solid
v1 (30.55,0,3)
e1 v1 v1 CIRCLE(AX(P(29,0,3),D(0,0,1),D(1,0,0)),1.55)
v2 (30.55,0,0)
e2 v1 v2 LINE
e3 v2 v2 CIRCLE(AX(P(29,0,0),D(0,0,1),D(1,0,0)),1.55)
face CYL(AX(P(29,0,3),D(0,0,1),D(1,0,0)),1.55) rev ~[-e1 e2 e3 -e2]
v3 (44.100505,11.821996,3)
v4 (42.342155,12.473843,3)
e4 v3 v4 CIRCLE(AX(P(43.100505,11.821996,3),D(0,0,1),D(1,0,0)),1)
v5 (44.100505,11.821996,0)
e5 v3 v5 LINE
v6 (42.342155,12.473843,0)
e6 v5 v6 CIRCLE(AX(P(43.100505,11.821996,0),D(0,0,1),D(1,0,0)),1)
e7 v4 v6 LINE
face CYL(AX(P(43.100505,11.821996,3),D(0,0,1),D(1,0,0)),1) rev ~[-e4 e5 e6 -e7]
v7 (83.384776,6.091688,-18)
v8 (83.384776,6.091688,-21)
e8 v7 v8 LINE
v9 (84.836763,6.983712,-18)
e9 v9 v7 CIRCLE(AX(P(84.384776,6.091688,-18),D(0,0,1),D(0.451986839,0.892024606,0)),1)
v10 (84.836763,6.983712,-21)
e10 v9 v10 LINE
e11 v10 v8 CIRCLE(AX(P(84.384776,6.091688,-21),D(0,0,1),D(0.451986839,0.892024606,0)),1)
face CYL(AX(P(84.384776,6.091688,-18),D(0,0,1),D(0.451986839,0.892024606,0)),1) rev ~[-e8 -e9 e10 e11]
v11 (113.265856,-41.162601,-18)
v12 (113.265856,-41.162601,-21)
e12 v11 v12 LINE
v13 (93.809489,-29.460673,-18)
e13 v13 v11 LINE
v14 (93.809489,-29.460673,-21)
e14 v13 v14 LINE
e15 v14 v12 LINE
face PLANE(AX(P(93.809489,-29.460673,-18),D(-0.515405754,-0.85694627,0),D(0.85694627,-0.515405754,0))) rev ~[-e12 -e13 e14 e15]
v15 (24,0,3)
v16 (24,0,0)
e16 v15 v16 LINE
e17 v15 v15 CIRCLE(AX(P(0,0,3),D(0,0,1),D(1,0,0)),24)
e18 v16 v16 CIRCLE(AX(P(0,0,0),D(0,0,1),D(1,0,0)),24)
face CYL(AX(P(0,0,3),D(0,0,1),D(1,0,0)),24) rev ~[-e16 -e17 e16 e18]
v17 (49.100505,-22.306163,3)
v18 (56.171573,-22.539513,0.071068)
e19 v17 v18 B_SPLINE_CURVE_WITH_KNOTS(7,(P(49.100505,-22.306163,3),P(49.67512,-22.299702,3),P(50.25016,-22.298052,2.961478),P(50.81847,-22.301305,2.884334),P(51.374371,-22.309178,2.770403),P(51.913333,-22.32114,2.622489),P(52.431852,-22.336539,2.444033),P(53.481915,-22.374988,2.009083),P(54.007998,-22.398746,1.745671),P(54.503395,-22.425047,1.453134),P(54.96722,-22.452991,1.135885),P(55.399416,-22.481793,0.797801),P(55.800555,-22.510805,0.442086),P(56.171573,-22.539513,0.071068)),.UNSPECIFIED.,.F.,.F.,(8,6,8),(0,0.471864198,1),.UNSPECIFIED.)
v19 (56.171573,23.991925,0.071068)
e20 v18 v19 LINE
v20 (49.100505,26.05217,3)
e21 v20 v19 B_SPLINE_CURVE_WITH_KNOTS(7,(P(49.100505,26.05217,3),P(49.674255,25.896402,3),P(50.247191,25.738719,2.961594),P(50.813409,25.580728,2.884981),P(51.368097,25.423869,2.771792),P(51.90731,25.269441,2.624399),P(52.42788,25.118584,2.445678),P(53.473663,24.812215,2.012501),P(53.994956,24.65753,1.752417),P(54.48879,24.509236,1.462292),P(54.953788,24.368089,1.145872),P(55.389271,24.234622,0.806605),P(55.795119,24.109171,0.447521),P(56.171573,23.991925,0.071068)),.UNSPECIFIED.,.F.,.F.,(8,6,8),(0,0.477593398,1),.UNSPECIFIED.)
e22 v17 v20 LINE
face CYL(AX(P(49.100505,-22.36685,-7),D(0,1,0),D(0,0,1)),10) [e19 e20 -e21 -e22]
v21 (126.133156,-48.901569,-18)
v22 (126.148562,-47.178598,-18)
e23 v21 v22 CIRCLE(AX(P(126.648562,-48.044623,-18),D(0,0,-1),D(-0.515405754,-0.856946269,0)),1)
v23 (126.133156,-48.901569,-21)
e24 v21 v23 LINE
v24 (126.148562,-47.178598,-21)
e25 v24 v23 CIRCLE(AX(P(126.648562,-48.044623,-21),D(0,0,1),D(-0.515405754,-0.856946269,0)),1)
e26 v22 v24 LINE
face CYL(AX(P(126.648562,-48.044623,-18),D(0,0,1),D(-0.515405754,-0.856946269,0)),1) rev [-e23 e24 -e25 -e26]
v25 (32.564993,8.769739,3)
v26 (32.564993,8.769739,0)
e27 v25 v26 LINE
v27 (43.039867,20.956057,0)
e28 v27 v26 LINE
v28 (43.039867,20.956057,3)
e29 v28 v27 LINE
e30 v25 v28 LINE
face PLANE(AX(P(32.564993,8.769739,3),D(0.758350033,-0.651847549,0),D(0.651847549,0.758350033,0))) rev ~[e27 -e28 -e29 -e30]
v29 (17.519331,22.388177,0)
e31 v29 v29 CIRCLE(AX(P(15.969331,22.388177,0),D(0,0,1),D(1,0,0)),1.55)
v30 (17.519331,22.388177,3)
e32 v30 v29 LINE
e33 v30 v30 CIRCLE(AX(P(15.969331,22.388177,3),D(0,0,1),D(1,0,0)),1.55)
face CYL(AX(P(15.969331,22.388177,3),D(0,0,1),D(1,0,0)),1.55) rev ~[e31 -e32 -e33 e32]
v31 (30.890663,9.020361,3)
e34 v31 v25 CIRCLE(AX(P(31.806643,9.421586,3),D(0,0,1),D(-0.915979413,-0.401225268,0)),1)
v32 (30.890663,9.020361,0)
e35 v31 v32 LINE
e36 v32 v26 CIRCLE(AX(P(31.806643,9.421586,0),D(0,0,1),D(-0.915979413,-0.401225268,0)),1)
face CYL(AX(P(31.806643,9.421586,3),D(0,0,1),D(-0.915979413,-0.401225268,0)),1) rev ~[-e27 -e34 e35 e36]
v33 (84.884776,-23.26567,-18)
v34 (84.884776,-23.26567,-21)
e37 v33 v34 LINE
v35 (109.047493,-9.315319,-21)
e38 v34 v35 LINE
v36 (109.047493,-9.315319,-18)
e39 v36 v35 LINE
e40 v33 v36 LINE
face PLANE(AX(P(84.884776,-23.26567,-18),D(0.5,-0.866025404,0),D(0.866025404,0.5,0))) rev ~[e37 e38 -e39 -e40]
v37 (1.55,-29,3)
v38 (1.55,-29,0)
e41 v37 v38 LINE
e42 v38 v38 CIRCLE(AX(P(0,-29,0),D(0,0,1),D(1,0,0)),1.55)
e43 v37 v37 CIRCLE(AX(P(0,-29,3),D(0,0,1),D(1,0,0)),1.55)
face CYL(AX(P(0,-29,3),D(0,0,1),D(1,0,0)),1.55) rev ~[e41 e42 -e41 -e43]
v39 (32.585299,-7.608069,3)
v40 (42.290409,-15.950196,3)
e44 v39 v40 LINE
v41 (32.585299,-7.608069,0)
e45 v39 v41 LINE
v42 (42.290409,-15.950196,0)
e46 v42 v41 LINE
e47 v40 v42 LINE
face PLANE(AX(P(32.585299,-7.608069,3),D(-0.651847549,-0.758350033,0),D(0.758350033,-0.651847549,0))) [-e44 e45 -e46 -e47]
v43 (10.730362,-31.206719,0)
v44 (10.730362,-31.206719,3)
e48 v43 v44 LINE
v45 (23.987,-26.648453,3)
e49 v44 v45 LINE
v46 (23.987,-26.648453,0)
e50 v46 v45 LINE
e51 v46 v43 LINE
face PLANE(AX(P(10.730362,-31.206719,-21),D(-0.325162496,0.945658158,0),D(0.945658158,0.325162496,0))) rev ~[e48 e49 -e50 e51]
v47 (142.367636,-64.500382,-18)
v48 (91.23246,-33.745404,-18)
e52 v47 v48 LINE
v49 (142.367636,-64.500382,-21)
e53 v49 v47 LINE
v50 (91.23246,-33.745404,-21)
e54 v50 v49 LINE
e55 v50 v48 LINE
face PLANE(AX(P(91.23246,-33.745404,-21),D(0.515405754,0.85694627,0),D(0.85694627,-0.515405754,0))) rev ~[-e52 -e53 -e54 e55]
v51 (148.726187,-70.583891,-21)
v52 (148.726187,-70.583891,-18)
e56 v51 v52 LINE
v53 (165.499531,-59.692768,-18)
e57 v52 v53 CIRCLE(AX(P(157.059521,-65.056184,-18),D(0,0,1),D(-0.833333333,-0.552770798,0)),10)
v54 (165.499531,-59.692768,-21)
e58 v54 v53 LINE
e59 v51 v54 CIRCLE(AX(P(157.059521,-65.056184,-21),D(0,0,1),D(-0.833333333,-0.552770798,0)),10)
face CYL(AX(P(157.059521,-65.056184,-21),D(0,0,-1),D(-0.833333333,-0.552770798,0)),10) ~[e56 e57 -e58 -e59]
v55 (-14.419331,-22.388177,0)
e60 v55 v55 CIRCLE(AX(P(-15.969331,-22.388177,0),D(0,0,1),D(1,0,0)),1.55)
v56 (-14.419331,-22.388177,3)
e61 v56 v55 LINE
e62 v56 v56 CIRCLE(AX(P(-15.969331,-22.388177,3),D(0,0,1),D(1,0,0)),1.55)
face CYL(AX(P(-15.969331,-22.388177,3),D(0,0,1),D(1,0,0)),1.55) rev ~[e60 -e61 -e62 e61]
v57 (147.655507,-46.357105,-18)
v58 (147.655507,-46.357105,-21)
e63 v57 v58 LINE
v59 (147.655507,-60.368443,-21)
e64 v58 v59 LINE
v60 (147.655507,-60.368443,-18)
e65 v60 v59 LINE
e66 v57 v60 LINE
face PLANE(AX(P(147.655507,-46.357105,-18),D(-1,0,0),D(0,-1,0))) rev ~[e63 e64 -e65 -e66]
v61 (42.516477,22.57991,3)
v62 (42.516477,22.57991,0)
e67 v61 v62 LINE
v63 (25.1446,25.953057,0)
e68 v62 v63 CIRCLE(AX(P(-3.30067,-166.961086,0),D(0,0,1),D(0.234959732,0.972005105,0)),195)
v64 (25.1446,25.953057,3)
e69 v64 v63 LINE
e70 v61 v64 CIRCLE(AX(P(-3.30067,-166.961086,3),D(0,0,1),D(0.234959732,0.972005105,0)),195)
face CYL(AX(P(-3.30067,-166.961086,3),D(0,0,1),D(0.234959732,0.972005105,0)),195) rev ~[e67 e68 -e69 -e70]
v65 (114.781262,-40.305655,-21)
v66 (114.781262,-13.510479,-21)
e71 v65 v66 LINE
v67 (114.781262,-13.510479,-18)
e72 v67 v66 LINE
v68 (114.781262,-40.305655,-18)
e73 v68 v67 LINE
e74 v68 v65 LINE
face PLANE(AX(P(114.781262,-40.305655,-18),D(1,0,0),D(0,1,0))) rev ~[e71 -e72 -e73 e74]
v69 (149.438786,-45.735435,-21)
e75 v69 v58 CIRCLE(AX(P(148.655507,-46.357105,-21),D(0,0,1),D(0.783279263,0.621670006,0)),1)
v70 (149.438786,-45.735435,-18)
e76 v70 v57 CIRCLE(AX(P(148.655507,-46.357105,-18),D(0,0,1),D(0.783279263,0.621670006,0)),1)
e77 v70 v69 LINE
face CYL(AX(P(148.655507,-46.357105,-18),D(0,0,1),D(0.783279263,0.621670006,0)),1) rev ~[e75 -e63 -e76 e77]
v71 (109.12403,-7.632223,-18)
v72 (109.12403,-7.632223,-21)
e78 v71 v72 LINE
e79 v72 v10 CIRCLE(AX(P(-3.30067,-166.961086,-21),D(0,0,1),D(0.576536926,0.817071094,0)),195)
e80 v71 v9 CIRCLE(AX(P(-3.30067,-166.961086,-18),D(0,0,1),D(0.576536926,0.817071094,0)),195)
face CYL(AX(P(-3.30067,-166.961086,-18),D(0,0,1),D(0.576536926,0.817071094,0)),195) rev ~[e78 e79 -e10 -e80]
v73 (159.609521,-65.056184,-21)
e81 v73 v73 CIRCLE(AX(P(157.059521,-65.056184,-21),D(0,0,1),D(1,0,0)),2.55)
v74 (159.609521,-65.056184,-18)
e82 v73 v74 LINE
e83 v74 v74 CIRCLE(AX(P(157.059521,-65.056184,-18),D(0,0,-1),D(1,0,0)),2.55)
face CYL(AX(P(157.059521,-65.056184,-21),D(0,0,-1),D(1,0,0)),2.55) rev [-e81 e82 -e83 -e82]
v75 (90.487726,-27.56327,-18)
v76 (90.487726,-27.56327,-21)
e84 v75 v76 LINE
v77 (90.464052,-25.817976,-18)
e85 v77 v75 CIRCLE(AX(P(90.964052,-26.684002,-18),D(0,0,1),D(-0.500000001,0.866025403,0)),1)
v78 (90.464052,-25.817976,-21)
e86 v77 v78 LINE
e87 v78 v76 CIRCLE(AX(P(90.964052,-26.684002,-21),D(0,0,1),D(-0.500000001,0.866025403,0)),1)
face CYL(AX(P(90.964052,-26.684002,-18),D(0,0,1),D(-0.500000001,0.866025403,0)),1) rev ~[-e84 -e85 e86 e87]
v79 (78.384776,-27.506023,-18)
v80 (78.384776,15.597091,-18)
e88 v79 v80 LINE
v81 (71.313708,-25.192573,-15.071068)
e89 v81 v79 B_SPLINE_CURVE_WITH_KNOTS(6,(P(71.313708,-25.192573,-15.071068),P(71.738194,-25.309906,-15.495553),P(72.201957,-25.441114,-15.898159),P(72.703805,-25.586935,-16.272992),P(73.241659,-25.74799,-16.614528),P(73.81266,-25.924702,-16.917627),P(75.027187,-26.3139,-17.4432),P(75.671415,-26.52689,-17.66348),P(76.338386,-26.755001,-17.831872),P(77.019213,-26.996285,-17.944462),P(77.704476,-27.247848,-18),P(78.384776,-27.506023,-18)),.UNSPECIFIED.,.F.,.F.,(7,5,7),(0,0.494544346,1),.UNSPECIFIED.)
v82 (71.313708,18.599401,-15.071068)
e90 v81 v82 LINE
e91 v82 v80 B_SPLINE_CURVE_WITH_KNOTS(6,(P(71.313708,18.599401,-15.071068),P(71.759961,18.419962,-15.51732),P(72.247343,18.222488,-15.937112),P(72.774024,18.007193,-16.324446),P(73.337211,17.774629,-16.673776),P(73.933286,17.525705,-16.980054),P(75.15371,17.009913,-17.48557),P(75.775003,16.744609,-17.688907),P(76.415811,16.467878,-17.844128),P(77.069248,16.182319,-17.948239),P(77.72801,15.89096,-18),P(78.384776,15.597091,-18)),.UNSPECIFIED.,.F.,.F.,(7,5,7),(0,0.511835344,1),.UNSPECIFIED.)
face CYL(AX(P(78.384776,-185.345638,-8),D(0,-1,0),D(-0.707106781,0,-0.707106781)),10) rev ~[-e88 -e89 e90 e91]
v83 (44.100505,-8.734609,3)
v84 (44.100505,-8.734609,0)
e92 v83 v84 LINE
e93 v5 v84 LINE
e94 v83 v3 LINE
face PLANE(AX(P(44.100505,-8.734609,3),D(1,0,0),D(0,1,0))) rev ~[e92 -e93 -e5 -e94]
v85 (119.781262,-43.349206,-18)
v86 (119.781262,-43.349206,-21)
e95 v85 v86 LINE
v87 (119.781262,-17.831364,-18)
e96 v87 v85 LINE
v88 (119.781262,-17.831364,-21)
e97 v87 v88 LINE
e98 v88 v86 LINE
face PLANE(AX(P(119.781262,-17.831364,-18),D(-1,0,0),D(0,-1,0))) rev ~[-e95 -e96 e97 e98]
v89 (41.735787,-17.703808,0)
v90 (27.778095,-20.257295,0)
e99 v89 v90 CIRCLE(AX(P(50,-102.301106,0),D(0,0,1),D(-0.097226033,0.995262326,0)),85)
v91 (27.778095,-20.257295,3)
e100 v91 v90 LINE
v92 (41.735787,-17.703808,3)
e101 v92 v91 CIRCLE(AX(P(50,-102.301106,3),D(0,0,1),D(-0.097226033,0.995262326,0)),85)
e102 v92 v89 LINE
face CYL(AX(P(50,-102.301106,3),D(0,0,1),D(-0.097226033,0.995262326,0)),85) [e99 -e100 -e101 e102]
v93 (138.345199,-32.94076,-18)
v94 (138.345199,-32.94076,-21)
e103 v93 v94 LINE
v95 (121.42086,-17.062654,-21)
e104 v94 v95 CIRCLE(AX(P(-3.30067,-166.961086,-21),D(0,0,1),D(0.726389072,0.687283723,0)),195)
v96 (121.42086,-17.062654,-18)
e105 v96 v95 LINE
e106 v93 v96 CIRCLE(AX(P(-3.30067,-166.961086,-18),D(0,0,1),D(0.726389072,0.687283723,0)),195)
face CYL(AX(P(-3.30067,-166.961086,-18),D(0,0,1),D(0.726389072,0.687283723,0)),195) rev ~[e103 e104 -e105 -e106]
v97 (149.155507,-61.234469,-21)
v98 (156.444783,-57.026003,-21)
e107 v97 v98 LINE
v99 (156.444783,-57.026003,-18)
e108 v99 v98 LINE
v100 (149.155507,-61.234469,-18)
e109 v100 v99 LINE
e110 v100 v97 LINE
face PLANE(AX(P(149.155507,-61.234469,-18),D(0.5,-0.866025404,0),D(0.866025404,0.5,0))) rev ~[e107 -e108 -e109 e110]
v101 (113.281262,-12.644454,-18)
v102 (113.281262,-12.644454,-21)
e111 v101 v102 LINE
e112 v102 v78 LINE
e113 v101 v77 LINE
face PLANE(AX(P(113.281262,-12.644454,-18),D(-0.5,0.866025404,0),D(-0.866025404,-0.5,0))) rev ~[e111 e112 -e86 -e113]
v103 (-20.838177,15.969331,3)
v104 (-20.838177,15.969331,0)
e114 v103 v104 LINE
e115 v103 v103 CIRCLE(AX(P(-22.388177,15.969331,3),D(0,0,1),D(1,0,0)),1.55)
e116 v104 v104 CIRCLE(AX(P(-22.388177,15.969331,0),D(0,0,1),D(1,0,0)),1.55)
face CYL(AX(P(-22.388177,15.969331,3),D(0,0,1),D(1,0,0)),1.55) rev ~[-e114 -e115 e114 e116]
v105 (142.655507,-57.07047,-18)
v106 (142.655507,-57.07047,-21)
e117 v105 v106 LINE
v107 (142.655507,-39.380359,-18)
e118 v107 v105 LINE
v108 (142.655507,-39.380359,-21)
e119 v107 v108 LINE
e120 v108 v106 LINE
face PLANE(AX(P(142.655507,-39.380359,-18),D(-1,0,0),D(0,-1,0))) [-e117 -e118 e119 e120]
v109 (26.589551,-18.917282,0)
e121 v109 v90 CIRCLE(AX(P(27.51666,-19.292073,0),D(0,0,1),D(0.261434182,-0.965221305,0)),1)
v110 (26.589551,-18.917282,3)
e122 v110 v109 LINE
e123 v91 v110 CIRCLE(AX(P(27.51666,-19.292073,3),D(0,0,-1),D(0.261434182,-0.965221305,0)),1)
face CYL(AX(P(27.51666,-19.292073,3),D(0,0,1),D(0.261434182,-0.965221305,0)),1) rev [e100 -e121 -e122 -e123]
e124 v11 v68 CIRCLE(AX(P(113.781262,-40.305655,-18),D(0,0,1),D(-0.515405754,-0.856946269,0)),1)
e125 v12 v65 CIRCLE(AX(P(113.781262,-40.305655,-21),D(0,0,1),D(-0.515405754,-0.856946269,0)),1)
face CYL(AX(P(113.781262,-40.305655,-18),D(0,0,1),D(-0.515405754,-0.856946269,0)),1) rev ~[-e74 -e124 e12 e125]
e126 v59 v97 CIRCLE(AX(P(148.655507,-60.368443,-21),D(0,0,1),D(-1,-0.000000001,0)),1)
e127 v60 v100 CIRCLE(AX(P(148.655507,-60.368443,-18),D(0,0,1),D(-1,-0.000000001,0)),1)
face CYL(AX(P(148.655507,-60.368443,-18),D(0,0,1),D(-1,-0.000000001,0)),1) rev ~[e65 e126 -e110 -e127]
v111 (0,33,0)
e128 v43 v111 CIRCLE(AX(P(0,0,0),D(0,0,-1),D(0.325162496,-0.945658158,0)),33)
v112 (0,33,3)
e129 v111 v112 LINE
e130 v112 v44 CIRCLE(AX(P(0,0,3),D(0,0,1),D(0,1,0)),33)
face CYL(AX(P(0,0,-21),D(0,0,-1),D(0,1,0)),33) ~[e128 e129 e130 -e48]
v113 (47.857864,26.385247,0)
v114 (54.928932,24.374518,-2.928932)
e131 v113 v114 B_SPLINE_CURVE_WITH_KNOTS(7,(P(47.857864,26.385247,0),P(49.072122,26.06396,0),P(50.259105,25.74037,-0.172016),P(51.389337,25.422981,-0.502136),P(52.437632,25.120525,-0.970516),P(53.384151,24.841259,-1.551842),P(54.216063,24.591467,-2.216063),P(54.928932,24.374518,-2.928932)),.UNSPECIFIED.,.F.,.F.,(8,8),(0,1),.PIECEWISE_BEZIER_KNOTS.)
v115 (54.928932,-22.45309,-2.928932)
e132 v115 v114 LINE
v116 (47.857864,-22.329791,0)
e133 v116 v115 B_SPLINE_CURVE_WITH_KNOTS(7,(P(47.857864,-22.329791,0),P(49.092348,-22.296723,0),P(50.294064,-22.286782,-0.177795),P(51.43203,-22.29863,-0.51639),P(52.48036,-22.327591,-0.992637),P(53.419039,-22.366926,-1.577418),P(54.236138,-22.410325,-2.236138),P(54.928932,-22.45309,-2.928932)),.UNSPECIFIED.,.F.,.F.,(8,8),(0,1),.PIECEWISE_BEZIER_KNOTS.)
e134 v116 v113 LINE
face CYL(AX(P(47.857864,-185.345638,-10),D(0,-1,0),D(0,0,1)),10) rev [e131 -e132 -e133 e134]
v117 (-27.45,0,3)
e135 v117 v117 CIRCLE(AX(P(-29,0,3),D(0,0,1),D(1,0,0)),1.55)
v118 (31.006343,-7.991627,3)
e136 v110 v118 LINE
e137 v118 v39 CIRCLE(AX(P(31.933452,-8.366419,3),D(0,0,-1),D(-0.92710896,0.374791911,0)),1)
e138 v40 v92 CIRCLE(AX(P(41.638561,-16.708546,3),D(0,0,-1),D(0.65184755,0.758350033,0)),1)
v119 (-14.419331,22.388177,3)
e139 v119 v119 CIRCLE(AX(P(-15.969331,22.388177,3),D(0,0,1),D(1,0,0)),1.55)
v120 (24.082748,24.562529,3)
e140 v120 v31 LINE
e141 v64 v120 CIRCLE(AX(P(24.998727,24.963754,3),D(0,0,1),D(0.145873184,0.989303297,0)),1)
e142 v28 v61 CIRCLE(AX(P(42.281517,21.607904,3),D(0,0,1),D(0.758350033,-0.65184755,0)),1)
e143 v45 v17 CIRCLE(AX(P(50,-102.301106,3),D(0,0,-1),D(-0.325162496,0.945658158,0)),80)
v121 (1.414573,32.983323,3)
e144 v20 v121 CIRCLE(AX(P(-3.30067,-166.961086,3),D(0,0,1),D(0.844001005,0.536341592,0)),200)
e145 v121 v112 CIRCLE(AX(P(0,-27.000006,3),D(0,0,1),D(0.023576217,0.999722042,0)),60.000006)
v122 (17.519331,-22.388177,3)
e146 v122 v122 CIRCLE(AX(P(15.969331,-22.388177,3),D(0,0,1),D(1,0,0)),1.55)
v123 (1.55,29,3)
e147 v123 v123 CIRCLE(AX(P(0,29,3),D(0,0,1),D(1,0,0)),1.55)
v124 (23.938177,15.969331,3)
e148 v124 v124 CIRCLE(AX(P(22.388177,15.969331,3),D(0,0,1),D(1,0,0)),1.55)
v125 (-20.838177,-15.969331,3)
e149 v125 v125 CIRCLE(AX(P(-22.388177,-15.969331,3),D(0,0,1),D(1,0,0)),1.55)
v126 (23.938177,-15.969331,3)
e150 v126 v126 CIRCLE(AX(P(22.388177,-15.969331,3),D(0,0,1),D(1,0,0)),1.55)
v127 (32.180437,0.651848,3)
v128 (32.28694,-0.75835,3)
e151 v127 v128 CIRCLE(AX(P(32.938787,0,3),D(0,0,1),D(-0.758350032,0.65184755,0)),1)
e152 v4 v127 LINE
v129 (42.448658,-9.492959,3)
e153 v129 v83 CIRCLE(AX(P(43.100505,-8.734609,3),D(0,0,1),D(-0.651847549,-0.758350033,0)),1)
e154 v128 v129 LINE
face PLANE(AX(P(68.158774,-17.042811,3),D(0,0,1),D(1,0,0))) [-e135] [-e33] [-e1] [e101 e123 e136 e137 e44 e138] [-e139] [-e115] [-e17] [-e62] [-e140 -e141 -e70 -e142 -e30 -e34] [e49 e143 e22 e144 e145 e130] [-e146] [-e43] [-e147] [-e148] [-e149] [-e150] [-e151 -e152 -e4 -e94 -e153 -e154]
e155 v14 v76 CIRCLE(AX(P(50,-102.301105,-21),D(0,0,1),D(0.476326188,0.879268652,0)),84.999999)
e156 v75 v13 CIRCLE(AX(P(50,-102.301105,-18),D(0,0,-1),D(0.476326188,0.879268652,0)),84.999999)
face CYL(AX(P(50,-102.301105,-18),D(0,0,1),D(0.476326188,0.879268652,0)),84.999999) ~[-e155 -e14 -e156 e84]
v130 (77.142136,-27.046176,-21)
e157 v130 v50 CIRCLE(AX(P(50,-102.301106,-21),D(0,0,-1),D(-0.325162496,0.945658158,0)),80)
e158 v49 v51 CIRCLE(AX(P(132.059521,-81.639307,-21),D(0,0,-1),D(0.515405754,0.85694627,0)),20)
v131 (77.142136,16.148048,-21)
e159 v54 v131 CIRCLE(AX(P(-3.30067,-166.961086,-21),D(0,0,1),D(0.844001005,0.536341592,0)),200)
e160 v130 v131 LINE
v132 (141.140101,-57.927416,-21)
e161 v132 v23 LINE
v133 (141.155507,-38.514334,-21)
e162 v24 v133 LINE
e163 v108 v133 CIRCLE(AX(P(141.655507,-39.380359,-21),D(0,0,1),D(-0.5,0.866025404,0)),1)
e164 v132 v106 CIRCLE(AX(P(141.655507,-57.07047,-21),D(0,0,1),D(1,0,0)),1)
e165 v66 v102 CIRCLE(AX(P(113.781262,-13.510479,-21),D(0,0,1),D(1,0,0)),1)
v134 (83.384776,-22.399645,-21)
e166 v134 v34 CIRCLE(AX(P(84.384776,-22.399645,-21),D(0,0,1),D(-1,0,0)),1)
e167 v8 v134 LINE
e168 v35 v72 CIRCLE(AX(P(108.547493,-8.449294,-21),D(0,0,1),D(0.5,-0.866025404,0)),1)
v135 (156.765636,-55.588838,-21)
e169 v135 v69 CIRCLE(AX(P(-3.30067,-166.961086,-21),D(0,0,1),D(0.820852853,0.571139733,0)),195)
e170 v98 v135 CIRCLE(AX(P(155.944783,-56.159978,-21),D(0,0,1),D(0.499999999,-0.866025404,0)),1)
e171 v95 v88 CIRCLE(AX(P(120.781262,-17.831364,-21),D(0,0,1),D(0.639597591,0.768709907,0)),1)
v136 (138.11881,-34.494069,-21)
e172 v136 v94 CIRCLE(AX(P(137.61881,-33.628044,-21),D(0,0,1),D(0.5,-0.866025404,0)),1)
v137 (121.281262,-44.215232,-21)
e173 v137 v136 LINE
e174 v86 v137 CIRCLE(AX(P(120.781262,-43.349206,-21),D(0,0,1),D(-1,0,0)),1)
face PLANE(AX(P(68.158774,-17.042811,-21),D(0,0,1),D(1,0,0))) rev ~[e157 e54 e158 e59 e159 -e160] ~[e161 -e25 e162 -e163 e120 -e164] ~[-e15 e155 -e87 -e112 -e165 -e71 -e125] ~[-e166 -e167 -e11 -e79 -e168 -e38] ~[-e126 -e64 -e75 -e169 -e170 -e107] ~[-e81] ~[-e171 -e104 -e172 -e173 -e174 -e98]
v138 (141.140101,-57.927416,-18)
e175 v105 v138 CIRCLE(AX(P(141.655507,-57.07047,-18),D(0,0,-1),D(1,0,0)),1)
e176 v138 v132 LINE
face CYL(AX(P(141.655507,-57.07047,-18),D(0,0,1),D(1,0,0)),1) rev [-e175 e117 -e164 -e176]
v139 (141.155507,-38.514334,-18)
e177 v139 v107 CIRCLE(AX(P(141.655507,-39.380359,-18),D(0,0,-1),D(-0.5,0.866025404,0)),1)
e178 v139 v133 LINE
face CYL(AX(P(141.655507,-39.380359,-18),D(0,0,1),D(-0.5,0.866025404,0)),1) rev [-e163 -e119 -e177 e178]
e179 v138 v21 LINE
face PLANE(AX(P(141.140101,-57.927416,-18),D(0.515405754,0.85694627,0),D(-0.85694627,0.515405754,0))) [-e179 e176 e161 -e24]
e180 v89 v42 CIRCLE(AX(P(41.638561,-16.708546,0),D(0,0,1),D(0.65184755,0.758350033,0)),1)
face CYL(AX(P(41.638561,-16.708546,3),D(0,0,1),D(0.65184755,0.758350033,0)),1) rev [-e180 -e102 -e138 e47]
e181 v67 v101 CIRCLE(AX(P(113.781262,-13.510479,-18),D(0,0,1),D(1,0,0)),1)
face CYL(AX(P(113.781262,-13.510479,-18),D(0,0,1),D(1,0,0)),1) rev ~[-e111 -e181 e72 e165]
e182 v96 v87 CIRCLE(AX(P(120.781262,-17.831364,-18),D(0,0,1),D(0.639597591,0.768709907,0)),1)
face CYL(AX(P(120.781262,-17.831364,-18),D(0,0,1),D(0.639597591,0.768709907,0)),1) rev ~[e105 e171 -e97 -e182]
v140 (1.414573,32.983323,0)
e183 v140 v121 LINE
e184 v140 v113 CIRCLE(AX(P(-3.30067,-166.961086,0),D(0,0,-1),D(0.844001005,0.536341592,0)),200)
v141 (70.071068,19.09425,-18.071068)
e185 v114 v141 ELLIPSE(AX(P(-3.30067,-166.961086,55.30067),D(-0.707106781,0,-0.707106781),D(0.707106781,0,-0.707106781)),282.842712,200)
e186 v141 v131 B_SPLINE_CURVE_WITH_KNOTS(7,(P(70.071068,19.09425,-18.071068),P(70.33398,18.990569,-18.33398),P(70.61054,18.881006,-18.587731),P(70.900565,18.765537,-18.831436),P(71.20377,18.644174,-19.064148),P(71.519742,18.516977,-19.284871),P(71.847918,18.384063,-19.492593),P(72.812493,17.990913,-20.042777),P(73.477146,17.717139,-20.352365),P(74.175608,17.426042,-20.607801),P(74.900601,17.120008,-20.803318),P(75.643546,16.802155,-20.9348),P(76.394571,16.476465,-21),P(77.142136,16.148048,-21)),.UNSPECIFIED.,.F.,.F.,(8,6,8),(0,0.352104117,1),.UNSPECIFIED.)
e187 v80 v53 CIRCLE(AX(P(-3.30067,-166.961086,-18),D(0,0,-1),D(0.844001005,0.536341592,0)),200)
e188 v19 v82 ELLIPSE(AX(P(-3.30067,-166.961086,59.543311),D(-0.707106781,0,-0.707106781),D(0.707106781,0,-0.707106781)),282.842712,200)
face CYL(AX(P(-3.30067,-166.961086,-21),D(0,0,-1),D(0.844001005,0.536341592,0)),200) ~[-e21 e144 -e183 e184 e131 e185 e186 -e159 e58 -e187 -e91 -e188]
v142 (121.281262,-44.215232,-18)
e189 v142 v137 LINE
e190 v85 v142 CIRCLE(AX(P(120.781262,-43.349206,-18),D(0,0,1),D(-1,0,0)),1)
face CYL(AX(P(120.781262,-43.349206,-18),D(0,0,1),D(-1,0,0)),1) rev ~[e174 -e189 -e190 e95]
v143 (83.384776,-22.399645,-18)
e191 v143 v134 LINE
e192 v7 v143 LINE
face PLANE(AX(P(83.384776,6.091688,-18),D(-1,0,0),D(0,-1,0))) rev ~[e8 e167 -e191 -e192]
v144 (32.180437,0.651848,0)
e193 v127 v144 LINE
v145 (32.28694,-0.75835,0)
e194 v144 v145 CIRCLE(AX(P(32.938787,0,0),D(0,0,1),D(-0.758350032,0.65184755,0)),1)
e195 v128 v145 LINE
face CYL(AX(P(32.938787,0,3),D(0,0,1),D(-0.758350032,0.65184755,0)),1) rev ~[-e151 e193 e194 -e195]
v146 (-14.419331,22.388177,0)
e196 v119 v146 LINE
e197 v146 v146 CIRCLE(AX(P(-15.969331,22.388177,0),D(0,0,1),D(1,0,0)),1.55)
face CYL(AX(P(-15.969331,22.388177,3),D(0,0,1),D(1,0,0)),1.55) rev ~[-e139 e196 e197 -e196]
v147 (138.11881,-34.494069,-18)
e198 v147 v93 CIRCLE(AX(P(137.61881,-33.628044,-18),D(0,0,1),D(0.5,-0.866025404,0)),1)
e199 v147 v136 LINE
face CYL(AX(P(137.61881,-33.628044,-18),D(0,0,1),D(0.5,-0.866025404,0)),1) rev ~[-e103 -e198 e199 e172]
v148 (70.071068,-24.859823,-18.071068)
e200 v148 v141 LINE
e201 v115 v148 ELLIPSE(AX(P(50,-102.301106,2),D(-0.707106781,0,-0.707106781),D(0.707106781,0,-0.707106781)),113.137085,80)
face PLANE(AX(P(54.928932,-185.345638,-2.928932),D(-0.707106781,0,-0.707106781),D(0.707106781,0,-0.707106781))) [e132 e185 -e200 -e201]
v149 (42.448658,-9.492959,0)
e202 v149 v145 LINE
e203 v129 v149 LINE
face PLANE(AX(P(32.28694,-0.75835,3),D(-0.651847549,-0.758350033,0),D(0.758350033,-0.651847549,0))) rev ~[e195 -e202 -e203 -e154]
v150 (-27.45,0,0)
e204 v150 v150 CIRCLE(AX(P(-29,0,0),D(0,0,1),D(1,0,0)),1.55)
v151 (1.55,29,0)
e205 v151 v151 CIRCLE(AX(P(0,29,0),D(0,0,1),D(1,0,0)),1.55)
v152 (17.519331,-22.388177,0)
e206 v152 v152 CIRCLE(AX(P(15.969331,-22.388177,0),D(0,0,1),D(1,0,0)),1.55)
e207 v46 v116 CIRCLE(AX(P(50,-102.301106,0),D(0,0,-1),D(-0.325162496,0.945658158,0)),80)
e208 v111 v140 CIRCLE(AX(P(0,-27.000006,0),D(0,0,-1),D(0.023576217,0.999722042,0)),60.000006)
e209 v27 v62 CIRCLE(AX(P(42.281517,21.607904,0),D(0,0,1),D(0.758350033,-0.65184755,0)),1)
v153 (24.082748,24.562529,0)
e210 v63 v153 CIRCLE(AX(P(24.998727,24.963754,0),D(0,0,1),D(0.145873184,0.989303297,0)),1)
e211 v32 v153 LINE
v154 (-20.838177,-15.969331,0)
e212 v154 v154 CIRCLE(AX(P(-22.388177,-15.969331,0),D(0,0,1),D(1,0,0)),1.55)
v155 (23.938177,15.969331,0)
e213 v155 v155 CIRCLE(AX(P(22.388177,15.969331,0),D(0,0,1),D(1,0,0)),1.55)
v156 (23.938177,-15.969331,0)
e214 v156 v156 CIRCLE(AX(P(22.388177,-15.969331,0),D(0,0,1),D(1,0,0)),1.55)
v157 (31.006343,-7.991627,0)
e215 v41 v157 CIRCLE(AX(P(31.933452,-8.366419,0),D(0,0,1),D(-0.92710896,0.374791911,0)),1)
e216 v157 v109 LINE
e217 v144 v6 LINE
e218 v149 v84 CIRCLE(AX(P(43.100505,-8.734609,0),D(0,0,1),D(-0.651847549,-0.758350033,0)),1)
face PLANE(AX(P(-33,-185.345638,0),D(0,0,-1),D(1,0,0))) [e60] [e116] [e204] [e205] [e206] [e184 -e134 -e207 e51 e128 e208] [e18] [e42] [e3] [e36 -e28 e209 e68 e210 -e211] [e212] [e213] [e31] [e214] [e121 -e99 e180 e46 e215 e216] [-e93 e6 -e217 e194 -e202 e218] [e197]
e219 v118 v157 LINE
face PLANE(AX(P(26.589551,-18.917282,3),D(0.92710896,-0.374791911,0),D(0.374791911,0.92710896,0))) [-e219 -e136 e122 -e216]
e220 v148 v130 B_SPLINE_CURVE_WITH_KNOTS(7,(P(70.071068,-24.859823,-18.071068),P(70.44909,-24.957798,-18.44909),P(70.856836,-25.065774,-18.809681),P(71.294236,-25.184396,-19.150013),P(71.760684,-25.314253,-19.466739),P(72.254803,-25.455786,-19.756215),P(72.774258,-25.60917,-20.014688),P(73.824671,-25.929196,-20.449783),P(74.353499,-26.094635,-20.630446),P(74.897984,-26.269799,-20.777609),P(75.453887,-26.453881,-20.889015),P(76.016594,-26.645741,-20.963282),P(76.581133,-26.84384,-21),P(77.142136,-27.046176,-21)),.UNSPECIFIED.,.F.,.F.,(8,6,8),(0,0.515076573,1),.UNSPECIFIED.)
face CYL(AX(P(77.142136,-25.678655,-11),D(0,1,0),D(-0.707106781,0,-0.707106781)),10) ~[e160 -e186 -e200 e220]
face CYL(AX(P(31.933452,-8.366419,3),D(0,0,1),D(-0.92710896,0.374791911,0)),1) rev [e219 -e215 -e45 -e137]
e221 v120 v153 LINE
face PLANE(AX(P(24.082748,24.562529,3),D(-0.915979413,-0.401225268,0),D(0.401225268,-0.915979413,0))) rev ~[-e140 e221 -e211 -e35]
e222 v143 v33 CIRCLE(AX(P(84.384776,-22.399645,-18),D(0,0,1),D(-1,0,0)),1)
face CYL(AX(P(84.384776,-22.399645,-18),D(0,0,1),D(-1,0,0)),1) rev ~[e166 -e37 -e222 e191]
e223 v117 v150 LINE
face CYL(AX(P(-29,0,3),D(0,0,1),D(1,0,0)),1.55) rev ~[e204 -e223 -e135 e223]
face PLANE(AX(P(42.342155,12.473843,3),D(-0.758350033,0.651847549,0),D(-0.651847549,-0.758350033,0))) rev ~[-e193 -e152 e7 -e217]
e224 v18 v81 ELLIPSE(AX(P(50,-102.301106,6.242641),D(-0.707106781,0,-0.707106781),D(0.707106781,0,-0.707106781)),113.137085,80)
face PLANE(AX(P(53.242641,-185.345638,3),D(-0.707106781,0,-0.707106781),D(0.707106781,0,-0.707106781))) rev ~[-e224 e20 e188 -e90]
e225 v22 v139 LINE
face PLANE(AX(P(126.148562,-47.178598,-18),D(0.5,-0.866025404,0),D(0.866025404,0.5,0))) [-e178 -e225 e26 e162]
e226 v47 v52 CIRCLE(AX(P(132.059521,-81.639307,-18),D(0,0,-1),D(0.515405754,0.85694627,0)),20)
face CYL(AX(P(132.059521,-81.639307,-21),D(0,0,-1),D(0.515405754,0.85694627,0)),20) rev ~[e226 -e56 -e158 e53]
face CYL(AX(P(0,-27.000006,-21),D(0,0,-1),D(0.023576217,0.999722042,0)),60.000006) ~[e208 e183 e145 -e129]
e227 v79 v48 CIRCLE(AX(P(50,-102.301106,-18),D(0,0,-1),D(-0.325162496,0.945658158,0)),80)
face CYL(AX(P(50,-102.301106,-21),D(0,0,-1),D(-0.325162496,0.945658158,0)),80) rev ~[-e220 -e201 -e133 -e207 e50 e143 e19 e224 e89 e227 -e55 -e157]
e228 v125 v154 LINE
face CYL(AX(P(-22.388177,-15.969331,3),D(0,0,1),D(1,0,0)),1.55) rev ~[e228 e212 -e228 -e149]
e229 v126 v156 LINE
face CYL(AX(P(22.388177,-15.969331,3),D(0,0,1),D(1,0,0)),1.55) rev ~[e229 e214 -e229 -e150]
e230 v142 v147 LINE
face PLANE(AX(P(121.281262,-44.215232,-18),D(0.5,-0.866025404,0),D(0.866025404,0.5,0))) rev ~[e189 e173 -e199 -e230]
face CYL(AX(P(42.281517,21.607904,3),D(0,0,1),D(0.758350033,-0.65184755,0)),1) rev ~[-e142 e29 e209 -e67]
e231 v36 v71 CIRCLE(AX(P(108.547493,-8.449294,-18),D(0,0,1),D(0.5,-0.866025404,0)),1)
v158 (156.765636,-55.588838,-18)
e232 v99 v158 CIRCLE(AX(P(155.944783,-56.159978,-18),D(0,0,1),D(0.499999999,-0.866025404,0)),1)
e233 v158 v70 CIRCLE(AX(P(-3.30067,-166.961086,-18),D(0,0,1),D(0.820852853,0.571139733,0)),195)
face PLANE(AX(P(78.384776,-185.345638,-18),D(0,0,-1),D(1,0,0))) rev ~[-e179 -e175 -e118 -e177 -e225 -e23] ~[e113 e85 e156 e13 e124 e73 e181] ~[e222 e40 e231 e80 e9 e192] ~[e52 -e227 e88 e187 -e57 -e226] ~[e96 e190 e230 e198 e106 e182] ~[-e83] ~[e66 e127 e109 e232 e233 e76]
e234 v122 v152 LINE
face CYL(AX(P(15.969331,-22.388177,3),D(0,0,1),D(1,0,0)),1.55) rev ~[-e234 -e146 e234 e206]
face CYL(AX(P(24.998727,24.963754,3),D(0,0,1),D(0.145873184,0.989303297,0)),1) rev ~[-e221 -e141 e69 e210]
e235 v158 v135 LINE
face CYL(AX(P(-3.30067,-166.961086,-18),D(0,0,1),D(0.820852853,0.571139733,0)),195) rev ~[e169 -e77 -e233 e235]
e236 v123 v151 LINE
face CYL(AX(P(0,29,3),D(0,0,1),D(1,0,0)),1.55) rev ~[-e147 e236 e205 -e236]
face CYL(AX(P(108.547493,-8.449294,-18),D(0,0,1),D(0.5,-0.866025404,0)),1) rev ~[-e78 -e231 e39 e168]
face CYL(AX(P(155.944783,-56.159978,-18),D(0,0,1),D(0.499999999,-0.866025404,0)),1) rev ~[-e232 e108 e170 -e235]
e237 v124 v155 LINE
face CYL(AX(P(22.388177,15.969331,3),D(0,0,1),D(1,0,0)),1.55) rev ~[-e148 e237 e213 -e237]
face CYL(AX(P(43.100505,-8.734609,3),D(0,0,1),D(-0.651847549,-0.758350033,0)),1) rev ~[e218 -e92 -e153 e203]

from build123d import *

# Parameters (mm, degrees)
EXTRUDE_1_DEPTH          = 3
EXTRUDE_1_DEPTH_BACK     = 21
SKETCH_1_R               = 2.55
CUT_EXTRUDE_3_DEPTH      = 185.345637541
CUT_EXTRUDE_3_DEPTH_BACK = 185.345637541
SKETCH_2_R               = 1.55
CUT_EXTRUDE_1_DEPTH      = 185.711434636
SKETCH_4_R               = 1.55
CUT_EXTRUDE_2_DEPTH      = 185.711434636
FILLET_2_R               = 10
SKETCH_10_R              = 24
CUT_EXTRUDE_5_DEPTH      = 185.711434636
CUT_EXTRUDE_6_DEPTH      = 185.345637553
CUT_EXTRUDE_7_DEPTH      = 185.711434636


with BuildPart() as part:
    # 草图1 → 凸台-拉伸1 (new, two sides: drawn at the far end of the back side and taken through both)
    with BuildSketch(Plane.XY.offset(-EXTRUDE_1_DEPTH_BACK)):
        with BuildLine():
            Line((10.730362356, -31.206719208), (23.987000348, -26.648453139))
            ThreePointArc((23.987000348, -26.648453139), (58.3964084, -22.742948884), (91.232460283, -33.745404185))
            Line((91.232460283, -33.745404185), (142.367635598, -64.500382059))
            ThreePointArc((142.367635598, -64.500382059), (145.885654628, -67.188078585), (148.726187194, -70.583891486))
            ThreePointArc((148.726187194, -70.583891486), (162.505343691, -73.443257489), (165.49953058, -59.692767585))
            ThreePointArc((165.49953058, -59.692767585), (95.05641772, 7.182197604), (1.414573065, 32.983322541))
            ThreePointArc((1.414573065, 32.983322541), (0.707335687, 32.99583049), (0, 33))
            ThreePointArc((0, 33), (-32.548592395, -5.439589421), (10.730362356, -31.206719208))
        make_face()
        with Locations((157.059520527, -65.056183502)):
            Circle(SKETCH_1_R, mode=Mode.SUBTRACT)
    extrude(amount=EXTRUDE_1_DEPTH + EXTRUDE_1_DEPTH_BACK)

    # 草图6 → 切除-拉伸3 (cut, two sides: drawn at the far end of the back side and taken through both)
    with BuildSketch(Plane(origin=(0, 0, 0), x_dir=(1, 0, 0), z_dir=(0, 1, 0)).offset(-CUT_EXTRUDE_3_DEPTH_BACK)):
        with BuildLine():
            Line((-33, 0), (47.857864376, 0))
            ThreePointArc((47.857864376, 0), (51.6846987, 0.761204675), (54.928932188, 2.928932188))
            Line((54.928932188, 2.928932188), (73, 21))
            Line((73, 21), (-33, 21))
            Line((-33, 21), (-33, 0))
        make_face()
        with BuildLine():
            Line((53.242640687, -3), (71.313708499, 15.071067812))
            ThreePointArc((71.313708499, 15.071067812), (74.557941987, 17.238795325), (78.384776311, 18))
            Line((78.384776311, 18), (167.059520527, 18))
            Line((167.059520527, 18), (167.059520527, -3))
            Line((167.059520527, -3), (53.242640687, -3))
        make_face()
    extrude(amount=CUT_EXTRUDE_3_DEPTH + CUT_EXTRUDE_3_DEPTH_BACK, mode=Mode.SUBTRACT)

    # 草图2 → 切除-拉伸1 (cut, through all)
    with BuildSketch(Plane.XY.offset(3)):
        with Locations((-29, 0)):
            Circle(SKETCH_2_R)
        with Locations((0, -29)):
            Circle(SKETCH_2_R)
        with Locations((0, 29)):
            Circle(SKETCH_2_R)
        with Locations((29, 0)):
            Circle(SKETCH_2_R)
    extrude(amount=-CUT_EXTRUDE_1_DEPTH, mode=Mode.SUBTRACT)

    # 草图4 → 切除-拉伸2 (cut, through all)
    with BuildSketch(Plane.XY.offset(3)):
        with Locations((-22.388176755, 15.969331282)):
            Circle(SKETCH_4_R)
        with Locations((15.969331282, 22.388176755)):
            Circle(SKETCH_4_R)
        with Locations((-15.969331282, -22.388176755)):
            Circle(SKETCH_4_R)
        with Locations((22.388176755, -15.969331282)):
            Circle(SKETCH_4_R)
        with Locations((-15.969331282, 22.388176755)):
            Circle(SKETCH_4_R)
        with Locations((22.388176755, 15.969331282)):
            Circle(SKETCH_4_R)
        with Locations((15.969331282, -22.388176755)):
            Circle(SKETCH_4_R)
        with Locations((-22.388176755, -15.969331282)):
            Circle(SKETCH_4_R)
    extrude(amount=-CUT_EXTRUDE_2_DEPTH, mode=Mode.SUBTRACT)

    # 圆角2
    fillet_2_edges = [part.edges().sort_by_distance(p)[0] for p in [
        (73, -3.883124825, -21),
        (53.242640687, 1.256381871, 3),
    ]]
    fillet(fillet_2_edges, radius=FILLET_2_R)

    # 草图10 → 切除-拉伸5 (cut, through all)
    with BuildSketch(Plane.XY.offset(3)):
        Circle(SKETCH_10_R)
    extrude(amount=-CUT_EXTRUDE_5_DEPTH, mode=Mode.SUBTRACT)

    # 草图12 → 切除-拉伸6 (cut, through all)
    with BuildSketch(Plane.XY.offset(-18)):
        with BuildLine():
            Line((83.384776311, 6.091687583), (83.384776311, -22.39964463))
            ThreePointArc((83.384776311, -22.39964463), (83.884776311, -23.265670034), (84.884776311, -23.265670034))
            Line((84.884776311, -23.265670034), (109.047493079, -9.315319003))
            ThreePointArc((109.047493079, -9.315319003), (109.546460743, -8.494720534), (109.124030004, -7.632222505))
            ThreePointArc((109.124030004, -7.632222505), (97.246327471, 0.117641628), (84.83676315, 6.983712189))
            ThreePointArc((84.83676315, 6.983712189), (83.861319932, 6.943740058), (83.384776311, 6.091687583))
        make_face()
        with BuildLine():
            Line((113.281262253, -12.644453923), (90.464052196, -25.817976291))
            ThreePointArc((90.464052196, -25.817976291), (89.96414418, -26.697564816), (90.487726008, -27.563270347))
            ThreePointArc((90.487726008, -27.563270347), (92.159283091, -28.493281996), (93.809489051, -29.460672836))
            Line((93.809489051, -29.460672836), (113.2658565, -41.162601043))
            ThreePointArc((113.2658565, -41.162601043), (114.27349911, -41.176116075), (114.781262253, -40.305654774))
            Line((114.781262253, -40.305654774), (114.781262253, -13.510479327))
            ThreePointArc((114.781262253, -13.510479327), (114.281262253, -12.644453923), (113.281262253, -12.644453923))
        make_face()
        with BuildLine():
            Line((119.781262253, -17.831363982), (119.781262253, -43.349206201))
            ThreePointArc((119.781262253, -43.349206201), (120.281262253, -44.215231605), (121.281262253, -44.215231605))
            Line((121.281262253, -44.215231605), (138.118809565, -34.494069132))
            ThreePointArc((138.118809565, -34.494069132), (138.608354839, -33.7722663), (138.345198637, -32.940760006))
            ThreePointArc((138.345198637, -32.940760006), (130.119442072, -24.749716604), (121.420859845, -17.062654075))
            ThreePointArc((121.420859845, -17.062654075), (120.356761129, -16.925936572), (119.781262253, -17.831363982))
        make_face()
        with BuildLine():
            Line((126.148561535, -47.178597747), (141.15550656, -38.514333997))
            ThreePointArc((141.15550656, -38.514333997), (142.15550656, -38.514333997), (142.65550656, -39.3803594))
            Line((142.65550656, -39.3803594), (142.65550656, -57.070470024))
            ThreePointArc((142.65550656, -57.070470024), (142.147743417, -57.940931325), (141.140100807, -57.927416293))
            Line((141.140100807, -57.927416293), (126.133155781, -48.90156942))
            ThreePointArc((126.133155781, -48.90156942), (125.648601507, -48.035682123), (126.148561535, -47.178597747))
        make_face()
        with BuildLine():
            Line((147.65550656, -46.357104826), (147.65550656, -60.368443488))
            ThreePointArc((147.65550656, -60.368443488), (148.15550656, -61.234468891), (149.15550656, -61.234468891))
            Line((149.15550656, -61.234468891), (156.444782946, -57.026003208))
            ThreePointArc((156.444782946, -57.026003208), (156.920756292, -56.377867749), (156.765635798, -55.588838072))
            ThreePointArc((156.765635798, -55.588838072), (153.179787293, -50.604451681), (149.438785823, -45.73543482))
            ThreePointArc((149.438785823, -45.73543482), (148.326325199, -45.41283811), (147.65550656, -46.357104826))
        make_face()
    extrude(amount=-CUT_EXTRUDE_6_DEPTH, mode=Mode.SUBTRACT)

    # 草图13 → 切除-拉伸7 (cut, through all)
    with BuildSketch(Plane.XY.offset(3)):
        with BuildLine():
            Line((24.082747749, 24.562528501), (30.890663135, 9.020360956))
            ThreePointArc((30.890663135, 9.020360956), (31.658606615, 8.432604241), (32.56499258, 8.769738674))
            Line((32.56499258, 8.769738674), (43.039867443, 20.956056938))
            ThreePointArc((43.039867443, 20.956056938), (43.233300176, 21.914677314), (42.516477142, 22.579909593))
            ThreePointArc((42.516477142, 22.579909593), (33.868822783, 24.463648028), (25.144600346, 25.953057066))
            ThreePointArc((25.144600346, 25.953057066), (24.203957809, 25.570665357), (24.082747749, 24.562528501))
        make_face()
        with BuildLine():
            Line((44.100505063, -8.734608625), (44.100505063, 11.821995662))
            ThreePointArc((44.100505063, 11.821995662), (43.448103947, 12.759638993), (42.342155031, 12.473843212))
            Line((42.342155031, 12.473843212), (32.180437397, 0.651847549))
            ThreePointArc((32.180437397, 0.651847549), (31.941627156, -0.075308628), (32.28693988, -0.758350033))
            Line((32.28693988, -0.758350033), (42.448657514, -9.492958658))
            ThreePointArc((42.448657514, -9.492958658), (43.517729494, -9.64341211), (44.100505063, -8.734608625))
        make_face()
        with BuildLine():
            Line((32.585299227, -7.608069271), (42.290408687, -15.950195656))
            ThreePointArc((42.290408687, -15.950195656), (42.592011128, -17.01009687), (41.73578717, -17.703808015))
            ThreePointArc((41.73578717, -17.703808015), (34.703564931, -18.688791633), (27.778094538, -20.257294798))
            ThreePointArc((27.778094538, -20.257294798), (26.768536314, -19.955632396), (26.589551396, -18.917281582))
            Line((26.589551396, -18.917281582), (31.006342718, -7.991627393))
            ThreePointArc((31.006342718, -7.991627393), (31.69739783, -7.394679328), (32.585299227, -7.608069271))
        make_face()
    extrude(amount=-CUT_EXTRUDE_7_DEPTH, mode=Mode.SUBTRACT)


solid = part.part
